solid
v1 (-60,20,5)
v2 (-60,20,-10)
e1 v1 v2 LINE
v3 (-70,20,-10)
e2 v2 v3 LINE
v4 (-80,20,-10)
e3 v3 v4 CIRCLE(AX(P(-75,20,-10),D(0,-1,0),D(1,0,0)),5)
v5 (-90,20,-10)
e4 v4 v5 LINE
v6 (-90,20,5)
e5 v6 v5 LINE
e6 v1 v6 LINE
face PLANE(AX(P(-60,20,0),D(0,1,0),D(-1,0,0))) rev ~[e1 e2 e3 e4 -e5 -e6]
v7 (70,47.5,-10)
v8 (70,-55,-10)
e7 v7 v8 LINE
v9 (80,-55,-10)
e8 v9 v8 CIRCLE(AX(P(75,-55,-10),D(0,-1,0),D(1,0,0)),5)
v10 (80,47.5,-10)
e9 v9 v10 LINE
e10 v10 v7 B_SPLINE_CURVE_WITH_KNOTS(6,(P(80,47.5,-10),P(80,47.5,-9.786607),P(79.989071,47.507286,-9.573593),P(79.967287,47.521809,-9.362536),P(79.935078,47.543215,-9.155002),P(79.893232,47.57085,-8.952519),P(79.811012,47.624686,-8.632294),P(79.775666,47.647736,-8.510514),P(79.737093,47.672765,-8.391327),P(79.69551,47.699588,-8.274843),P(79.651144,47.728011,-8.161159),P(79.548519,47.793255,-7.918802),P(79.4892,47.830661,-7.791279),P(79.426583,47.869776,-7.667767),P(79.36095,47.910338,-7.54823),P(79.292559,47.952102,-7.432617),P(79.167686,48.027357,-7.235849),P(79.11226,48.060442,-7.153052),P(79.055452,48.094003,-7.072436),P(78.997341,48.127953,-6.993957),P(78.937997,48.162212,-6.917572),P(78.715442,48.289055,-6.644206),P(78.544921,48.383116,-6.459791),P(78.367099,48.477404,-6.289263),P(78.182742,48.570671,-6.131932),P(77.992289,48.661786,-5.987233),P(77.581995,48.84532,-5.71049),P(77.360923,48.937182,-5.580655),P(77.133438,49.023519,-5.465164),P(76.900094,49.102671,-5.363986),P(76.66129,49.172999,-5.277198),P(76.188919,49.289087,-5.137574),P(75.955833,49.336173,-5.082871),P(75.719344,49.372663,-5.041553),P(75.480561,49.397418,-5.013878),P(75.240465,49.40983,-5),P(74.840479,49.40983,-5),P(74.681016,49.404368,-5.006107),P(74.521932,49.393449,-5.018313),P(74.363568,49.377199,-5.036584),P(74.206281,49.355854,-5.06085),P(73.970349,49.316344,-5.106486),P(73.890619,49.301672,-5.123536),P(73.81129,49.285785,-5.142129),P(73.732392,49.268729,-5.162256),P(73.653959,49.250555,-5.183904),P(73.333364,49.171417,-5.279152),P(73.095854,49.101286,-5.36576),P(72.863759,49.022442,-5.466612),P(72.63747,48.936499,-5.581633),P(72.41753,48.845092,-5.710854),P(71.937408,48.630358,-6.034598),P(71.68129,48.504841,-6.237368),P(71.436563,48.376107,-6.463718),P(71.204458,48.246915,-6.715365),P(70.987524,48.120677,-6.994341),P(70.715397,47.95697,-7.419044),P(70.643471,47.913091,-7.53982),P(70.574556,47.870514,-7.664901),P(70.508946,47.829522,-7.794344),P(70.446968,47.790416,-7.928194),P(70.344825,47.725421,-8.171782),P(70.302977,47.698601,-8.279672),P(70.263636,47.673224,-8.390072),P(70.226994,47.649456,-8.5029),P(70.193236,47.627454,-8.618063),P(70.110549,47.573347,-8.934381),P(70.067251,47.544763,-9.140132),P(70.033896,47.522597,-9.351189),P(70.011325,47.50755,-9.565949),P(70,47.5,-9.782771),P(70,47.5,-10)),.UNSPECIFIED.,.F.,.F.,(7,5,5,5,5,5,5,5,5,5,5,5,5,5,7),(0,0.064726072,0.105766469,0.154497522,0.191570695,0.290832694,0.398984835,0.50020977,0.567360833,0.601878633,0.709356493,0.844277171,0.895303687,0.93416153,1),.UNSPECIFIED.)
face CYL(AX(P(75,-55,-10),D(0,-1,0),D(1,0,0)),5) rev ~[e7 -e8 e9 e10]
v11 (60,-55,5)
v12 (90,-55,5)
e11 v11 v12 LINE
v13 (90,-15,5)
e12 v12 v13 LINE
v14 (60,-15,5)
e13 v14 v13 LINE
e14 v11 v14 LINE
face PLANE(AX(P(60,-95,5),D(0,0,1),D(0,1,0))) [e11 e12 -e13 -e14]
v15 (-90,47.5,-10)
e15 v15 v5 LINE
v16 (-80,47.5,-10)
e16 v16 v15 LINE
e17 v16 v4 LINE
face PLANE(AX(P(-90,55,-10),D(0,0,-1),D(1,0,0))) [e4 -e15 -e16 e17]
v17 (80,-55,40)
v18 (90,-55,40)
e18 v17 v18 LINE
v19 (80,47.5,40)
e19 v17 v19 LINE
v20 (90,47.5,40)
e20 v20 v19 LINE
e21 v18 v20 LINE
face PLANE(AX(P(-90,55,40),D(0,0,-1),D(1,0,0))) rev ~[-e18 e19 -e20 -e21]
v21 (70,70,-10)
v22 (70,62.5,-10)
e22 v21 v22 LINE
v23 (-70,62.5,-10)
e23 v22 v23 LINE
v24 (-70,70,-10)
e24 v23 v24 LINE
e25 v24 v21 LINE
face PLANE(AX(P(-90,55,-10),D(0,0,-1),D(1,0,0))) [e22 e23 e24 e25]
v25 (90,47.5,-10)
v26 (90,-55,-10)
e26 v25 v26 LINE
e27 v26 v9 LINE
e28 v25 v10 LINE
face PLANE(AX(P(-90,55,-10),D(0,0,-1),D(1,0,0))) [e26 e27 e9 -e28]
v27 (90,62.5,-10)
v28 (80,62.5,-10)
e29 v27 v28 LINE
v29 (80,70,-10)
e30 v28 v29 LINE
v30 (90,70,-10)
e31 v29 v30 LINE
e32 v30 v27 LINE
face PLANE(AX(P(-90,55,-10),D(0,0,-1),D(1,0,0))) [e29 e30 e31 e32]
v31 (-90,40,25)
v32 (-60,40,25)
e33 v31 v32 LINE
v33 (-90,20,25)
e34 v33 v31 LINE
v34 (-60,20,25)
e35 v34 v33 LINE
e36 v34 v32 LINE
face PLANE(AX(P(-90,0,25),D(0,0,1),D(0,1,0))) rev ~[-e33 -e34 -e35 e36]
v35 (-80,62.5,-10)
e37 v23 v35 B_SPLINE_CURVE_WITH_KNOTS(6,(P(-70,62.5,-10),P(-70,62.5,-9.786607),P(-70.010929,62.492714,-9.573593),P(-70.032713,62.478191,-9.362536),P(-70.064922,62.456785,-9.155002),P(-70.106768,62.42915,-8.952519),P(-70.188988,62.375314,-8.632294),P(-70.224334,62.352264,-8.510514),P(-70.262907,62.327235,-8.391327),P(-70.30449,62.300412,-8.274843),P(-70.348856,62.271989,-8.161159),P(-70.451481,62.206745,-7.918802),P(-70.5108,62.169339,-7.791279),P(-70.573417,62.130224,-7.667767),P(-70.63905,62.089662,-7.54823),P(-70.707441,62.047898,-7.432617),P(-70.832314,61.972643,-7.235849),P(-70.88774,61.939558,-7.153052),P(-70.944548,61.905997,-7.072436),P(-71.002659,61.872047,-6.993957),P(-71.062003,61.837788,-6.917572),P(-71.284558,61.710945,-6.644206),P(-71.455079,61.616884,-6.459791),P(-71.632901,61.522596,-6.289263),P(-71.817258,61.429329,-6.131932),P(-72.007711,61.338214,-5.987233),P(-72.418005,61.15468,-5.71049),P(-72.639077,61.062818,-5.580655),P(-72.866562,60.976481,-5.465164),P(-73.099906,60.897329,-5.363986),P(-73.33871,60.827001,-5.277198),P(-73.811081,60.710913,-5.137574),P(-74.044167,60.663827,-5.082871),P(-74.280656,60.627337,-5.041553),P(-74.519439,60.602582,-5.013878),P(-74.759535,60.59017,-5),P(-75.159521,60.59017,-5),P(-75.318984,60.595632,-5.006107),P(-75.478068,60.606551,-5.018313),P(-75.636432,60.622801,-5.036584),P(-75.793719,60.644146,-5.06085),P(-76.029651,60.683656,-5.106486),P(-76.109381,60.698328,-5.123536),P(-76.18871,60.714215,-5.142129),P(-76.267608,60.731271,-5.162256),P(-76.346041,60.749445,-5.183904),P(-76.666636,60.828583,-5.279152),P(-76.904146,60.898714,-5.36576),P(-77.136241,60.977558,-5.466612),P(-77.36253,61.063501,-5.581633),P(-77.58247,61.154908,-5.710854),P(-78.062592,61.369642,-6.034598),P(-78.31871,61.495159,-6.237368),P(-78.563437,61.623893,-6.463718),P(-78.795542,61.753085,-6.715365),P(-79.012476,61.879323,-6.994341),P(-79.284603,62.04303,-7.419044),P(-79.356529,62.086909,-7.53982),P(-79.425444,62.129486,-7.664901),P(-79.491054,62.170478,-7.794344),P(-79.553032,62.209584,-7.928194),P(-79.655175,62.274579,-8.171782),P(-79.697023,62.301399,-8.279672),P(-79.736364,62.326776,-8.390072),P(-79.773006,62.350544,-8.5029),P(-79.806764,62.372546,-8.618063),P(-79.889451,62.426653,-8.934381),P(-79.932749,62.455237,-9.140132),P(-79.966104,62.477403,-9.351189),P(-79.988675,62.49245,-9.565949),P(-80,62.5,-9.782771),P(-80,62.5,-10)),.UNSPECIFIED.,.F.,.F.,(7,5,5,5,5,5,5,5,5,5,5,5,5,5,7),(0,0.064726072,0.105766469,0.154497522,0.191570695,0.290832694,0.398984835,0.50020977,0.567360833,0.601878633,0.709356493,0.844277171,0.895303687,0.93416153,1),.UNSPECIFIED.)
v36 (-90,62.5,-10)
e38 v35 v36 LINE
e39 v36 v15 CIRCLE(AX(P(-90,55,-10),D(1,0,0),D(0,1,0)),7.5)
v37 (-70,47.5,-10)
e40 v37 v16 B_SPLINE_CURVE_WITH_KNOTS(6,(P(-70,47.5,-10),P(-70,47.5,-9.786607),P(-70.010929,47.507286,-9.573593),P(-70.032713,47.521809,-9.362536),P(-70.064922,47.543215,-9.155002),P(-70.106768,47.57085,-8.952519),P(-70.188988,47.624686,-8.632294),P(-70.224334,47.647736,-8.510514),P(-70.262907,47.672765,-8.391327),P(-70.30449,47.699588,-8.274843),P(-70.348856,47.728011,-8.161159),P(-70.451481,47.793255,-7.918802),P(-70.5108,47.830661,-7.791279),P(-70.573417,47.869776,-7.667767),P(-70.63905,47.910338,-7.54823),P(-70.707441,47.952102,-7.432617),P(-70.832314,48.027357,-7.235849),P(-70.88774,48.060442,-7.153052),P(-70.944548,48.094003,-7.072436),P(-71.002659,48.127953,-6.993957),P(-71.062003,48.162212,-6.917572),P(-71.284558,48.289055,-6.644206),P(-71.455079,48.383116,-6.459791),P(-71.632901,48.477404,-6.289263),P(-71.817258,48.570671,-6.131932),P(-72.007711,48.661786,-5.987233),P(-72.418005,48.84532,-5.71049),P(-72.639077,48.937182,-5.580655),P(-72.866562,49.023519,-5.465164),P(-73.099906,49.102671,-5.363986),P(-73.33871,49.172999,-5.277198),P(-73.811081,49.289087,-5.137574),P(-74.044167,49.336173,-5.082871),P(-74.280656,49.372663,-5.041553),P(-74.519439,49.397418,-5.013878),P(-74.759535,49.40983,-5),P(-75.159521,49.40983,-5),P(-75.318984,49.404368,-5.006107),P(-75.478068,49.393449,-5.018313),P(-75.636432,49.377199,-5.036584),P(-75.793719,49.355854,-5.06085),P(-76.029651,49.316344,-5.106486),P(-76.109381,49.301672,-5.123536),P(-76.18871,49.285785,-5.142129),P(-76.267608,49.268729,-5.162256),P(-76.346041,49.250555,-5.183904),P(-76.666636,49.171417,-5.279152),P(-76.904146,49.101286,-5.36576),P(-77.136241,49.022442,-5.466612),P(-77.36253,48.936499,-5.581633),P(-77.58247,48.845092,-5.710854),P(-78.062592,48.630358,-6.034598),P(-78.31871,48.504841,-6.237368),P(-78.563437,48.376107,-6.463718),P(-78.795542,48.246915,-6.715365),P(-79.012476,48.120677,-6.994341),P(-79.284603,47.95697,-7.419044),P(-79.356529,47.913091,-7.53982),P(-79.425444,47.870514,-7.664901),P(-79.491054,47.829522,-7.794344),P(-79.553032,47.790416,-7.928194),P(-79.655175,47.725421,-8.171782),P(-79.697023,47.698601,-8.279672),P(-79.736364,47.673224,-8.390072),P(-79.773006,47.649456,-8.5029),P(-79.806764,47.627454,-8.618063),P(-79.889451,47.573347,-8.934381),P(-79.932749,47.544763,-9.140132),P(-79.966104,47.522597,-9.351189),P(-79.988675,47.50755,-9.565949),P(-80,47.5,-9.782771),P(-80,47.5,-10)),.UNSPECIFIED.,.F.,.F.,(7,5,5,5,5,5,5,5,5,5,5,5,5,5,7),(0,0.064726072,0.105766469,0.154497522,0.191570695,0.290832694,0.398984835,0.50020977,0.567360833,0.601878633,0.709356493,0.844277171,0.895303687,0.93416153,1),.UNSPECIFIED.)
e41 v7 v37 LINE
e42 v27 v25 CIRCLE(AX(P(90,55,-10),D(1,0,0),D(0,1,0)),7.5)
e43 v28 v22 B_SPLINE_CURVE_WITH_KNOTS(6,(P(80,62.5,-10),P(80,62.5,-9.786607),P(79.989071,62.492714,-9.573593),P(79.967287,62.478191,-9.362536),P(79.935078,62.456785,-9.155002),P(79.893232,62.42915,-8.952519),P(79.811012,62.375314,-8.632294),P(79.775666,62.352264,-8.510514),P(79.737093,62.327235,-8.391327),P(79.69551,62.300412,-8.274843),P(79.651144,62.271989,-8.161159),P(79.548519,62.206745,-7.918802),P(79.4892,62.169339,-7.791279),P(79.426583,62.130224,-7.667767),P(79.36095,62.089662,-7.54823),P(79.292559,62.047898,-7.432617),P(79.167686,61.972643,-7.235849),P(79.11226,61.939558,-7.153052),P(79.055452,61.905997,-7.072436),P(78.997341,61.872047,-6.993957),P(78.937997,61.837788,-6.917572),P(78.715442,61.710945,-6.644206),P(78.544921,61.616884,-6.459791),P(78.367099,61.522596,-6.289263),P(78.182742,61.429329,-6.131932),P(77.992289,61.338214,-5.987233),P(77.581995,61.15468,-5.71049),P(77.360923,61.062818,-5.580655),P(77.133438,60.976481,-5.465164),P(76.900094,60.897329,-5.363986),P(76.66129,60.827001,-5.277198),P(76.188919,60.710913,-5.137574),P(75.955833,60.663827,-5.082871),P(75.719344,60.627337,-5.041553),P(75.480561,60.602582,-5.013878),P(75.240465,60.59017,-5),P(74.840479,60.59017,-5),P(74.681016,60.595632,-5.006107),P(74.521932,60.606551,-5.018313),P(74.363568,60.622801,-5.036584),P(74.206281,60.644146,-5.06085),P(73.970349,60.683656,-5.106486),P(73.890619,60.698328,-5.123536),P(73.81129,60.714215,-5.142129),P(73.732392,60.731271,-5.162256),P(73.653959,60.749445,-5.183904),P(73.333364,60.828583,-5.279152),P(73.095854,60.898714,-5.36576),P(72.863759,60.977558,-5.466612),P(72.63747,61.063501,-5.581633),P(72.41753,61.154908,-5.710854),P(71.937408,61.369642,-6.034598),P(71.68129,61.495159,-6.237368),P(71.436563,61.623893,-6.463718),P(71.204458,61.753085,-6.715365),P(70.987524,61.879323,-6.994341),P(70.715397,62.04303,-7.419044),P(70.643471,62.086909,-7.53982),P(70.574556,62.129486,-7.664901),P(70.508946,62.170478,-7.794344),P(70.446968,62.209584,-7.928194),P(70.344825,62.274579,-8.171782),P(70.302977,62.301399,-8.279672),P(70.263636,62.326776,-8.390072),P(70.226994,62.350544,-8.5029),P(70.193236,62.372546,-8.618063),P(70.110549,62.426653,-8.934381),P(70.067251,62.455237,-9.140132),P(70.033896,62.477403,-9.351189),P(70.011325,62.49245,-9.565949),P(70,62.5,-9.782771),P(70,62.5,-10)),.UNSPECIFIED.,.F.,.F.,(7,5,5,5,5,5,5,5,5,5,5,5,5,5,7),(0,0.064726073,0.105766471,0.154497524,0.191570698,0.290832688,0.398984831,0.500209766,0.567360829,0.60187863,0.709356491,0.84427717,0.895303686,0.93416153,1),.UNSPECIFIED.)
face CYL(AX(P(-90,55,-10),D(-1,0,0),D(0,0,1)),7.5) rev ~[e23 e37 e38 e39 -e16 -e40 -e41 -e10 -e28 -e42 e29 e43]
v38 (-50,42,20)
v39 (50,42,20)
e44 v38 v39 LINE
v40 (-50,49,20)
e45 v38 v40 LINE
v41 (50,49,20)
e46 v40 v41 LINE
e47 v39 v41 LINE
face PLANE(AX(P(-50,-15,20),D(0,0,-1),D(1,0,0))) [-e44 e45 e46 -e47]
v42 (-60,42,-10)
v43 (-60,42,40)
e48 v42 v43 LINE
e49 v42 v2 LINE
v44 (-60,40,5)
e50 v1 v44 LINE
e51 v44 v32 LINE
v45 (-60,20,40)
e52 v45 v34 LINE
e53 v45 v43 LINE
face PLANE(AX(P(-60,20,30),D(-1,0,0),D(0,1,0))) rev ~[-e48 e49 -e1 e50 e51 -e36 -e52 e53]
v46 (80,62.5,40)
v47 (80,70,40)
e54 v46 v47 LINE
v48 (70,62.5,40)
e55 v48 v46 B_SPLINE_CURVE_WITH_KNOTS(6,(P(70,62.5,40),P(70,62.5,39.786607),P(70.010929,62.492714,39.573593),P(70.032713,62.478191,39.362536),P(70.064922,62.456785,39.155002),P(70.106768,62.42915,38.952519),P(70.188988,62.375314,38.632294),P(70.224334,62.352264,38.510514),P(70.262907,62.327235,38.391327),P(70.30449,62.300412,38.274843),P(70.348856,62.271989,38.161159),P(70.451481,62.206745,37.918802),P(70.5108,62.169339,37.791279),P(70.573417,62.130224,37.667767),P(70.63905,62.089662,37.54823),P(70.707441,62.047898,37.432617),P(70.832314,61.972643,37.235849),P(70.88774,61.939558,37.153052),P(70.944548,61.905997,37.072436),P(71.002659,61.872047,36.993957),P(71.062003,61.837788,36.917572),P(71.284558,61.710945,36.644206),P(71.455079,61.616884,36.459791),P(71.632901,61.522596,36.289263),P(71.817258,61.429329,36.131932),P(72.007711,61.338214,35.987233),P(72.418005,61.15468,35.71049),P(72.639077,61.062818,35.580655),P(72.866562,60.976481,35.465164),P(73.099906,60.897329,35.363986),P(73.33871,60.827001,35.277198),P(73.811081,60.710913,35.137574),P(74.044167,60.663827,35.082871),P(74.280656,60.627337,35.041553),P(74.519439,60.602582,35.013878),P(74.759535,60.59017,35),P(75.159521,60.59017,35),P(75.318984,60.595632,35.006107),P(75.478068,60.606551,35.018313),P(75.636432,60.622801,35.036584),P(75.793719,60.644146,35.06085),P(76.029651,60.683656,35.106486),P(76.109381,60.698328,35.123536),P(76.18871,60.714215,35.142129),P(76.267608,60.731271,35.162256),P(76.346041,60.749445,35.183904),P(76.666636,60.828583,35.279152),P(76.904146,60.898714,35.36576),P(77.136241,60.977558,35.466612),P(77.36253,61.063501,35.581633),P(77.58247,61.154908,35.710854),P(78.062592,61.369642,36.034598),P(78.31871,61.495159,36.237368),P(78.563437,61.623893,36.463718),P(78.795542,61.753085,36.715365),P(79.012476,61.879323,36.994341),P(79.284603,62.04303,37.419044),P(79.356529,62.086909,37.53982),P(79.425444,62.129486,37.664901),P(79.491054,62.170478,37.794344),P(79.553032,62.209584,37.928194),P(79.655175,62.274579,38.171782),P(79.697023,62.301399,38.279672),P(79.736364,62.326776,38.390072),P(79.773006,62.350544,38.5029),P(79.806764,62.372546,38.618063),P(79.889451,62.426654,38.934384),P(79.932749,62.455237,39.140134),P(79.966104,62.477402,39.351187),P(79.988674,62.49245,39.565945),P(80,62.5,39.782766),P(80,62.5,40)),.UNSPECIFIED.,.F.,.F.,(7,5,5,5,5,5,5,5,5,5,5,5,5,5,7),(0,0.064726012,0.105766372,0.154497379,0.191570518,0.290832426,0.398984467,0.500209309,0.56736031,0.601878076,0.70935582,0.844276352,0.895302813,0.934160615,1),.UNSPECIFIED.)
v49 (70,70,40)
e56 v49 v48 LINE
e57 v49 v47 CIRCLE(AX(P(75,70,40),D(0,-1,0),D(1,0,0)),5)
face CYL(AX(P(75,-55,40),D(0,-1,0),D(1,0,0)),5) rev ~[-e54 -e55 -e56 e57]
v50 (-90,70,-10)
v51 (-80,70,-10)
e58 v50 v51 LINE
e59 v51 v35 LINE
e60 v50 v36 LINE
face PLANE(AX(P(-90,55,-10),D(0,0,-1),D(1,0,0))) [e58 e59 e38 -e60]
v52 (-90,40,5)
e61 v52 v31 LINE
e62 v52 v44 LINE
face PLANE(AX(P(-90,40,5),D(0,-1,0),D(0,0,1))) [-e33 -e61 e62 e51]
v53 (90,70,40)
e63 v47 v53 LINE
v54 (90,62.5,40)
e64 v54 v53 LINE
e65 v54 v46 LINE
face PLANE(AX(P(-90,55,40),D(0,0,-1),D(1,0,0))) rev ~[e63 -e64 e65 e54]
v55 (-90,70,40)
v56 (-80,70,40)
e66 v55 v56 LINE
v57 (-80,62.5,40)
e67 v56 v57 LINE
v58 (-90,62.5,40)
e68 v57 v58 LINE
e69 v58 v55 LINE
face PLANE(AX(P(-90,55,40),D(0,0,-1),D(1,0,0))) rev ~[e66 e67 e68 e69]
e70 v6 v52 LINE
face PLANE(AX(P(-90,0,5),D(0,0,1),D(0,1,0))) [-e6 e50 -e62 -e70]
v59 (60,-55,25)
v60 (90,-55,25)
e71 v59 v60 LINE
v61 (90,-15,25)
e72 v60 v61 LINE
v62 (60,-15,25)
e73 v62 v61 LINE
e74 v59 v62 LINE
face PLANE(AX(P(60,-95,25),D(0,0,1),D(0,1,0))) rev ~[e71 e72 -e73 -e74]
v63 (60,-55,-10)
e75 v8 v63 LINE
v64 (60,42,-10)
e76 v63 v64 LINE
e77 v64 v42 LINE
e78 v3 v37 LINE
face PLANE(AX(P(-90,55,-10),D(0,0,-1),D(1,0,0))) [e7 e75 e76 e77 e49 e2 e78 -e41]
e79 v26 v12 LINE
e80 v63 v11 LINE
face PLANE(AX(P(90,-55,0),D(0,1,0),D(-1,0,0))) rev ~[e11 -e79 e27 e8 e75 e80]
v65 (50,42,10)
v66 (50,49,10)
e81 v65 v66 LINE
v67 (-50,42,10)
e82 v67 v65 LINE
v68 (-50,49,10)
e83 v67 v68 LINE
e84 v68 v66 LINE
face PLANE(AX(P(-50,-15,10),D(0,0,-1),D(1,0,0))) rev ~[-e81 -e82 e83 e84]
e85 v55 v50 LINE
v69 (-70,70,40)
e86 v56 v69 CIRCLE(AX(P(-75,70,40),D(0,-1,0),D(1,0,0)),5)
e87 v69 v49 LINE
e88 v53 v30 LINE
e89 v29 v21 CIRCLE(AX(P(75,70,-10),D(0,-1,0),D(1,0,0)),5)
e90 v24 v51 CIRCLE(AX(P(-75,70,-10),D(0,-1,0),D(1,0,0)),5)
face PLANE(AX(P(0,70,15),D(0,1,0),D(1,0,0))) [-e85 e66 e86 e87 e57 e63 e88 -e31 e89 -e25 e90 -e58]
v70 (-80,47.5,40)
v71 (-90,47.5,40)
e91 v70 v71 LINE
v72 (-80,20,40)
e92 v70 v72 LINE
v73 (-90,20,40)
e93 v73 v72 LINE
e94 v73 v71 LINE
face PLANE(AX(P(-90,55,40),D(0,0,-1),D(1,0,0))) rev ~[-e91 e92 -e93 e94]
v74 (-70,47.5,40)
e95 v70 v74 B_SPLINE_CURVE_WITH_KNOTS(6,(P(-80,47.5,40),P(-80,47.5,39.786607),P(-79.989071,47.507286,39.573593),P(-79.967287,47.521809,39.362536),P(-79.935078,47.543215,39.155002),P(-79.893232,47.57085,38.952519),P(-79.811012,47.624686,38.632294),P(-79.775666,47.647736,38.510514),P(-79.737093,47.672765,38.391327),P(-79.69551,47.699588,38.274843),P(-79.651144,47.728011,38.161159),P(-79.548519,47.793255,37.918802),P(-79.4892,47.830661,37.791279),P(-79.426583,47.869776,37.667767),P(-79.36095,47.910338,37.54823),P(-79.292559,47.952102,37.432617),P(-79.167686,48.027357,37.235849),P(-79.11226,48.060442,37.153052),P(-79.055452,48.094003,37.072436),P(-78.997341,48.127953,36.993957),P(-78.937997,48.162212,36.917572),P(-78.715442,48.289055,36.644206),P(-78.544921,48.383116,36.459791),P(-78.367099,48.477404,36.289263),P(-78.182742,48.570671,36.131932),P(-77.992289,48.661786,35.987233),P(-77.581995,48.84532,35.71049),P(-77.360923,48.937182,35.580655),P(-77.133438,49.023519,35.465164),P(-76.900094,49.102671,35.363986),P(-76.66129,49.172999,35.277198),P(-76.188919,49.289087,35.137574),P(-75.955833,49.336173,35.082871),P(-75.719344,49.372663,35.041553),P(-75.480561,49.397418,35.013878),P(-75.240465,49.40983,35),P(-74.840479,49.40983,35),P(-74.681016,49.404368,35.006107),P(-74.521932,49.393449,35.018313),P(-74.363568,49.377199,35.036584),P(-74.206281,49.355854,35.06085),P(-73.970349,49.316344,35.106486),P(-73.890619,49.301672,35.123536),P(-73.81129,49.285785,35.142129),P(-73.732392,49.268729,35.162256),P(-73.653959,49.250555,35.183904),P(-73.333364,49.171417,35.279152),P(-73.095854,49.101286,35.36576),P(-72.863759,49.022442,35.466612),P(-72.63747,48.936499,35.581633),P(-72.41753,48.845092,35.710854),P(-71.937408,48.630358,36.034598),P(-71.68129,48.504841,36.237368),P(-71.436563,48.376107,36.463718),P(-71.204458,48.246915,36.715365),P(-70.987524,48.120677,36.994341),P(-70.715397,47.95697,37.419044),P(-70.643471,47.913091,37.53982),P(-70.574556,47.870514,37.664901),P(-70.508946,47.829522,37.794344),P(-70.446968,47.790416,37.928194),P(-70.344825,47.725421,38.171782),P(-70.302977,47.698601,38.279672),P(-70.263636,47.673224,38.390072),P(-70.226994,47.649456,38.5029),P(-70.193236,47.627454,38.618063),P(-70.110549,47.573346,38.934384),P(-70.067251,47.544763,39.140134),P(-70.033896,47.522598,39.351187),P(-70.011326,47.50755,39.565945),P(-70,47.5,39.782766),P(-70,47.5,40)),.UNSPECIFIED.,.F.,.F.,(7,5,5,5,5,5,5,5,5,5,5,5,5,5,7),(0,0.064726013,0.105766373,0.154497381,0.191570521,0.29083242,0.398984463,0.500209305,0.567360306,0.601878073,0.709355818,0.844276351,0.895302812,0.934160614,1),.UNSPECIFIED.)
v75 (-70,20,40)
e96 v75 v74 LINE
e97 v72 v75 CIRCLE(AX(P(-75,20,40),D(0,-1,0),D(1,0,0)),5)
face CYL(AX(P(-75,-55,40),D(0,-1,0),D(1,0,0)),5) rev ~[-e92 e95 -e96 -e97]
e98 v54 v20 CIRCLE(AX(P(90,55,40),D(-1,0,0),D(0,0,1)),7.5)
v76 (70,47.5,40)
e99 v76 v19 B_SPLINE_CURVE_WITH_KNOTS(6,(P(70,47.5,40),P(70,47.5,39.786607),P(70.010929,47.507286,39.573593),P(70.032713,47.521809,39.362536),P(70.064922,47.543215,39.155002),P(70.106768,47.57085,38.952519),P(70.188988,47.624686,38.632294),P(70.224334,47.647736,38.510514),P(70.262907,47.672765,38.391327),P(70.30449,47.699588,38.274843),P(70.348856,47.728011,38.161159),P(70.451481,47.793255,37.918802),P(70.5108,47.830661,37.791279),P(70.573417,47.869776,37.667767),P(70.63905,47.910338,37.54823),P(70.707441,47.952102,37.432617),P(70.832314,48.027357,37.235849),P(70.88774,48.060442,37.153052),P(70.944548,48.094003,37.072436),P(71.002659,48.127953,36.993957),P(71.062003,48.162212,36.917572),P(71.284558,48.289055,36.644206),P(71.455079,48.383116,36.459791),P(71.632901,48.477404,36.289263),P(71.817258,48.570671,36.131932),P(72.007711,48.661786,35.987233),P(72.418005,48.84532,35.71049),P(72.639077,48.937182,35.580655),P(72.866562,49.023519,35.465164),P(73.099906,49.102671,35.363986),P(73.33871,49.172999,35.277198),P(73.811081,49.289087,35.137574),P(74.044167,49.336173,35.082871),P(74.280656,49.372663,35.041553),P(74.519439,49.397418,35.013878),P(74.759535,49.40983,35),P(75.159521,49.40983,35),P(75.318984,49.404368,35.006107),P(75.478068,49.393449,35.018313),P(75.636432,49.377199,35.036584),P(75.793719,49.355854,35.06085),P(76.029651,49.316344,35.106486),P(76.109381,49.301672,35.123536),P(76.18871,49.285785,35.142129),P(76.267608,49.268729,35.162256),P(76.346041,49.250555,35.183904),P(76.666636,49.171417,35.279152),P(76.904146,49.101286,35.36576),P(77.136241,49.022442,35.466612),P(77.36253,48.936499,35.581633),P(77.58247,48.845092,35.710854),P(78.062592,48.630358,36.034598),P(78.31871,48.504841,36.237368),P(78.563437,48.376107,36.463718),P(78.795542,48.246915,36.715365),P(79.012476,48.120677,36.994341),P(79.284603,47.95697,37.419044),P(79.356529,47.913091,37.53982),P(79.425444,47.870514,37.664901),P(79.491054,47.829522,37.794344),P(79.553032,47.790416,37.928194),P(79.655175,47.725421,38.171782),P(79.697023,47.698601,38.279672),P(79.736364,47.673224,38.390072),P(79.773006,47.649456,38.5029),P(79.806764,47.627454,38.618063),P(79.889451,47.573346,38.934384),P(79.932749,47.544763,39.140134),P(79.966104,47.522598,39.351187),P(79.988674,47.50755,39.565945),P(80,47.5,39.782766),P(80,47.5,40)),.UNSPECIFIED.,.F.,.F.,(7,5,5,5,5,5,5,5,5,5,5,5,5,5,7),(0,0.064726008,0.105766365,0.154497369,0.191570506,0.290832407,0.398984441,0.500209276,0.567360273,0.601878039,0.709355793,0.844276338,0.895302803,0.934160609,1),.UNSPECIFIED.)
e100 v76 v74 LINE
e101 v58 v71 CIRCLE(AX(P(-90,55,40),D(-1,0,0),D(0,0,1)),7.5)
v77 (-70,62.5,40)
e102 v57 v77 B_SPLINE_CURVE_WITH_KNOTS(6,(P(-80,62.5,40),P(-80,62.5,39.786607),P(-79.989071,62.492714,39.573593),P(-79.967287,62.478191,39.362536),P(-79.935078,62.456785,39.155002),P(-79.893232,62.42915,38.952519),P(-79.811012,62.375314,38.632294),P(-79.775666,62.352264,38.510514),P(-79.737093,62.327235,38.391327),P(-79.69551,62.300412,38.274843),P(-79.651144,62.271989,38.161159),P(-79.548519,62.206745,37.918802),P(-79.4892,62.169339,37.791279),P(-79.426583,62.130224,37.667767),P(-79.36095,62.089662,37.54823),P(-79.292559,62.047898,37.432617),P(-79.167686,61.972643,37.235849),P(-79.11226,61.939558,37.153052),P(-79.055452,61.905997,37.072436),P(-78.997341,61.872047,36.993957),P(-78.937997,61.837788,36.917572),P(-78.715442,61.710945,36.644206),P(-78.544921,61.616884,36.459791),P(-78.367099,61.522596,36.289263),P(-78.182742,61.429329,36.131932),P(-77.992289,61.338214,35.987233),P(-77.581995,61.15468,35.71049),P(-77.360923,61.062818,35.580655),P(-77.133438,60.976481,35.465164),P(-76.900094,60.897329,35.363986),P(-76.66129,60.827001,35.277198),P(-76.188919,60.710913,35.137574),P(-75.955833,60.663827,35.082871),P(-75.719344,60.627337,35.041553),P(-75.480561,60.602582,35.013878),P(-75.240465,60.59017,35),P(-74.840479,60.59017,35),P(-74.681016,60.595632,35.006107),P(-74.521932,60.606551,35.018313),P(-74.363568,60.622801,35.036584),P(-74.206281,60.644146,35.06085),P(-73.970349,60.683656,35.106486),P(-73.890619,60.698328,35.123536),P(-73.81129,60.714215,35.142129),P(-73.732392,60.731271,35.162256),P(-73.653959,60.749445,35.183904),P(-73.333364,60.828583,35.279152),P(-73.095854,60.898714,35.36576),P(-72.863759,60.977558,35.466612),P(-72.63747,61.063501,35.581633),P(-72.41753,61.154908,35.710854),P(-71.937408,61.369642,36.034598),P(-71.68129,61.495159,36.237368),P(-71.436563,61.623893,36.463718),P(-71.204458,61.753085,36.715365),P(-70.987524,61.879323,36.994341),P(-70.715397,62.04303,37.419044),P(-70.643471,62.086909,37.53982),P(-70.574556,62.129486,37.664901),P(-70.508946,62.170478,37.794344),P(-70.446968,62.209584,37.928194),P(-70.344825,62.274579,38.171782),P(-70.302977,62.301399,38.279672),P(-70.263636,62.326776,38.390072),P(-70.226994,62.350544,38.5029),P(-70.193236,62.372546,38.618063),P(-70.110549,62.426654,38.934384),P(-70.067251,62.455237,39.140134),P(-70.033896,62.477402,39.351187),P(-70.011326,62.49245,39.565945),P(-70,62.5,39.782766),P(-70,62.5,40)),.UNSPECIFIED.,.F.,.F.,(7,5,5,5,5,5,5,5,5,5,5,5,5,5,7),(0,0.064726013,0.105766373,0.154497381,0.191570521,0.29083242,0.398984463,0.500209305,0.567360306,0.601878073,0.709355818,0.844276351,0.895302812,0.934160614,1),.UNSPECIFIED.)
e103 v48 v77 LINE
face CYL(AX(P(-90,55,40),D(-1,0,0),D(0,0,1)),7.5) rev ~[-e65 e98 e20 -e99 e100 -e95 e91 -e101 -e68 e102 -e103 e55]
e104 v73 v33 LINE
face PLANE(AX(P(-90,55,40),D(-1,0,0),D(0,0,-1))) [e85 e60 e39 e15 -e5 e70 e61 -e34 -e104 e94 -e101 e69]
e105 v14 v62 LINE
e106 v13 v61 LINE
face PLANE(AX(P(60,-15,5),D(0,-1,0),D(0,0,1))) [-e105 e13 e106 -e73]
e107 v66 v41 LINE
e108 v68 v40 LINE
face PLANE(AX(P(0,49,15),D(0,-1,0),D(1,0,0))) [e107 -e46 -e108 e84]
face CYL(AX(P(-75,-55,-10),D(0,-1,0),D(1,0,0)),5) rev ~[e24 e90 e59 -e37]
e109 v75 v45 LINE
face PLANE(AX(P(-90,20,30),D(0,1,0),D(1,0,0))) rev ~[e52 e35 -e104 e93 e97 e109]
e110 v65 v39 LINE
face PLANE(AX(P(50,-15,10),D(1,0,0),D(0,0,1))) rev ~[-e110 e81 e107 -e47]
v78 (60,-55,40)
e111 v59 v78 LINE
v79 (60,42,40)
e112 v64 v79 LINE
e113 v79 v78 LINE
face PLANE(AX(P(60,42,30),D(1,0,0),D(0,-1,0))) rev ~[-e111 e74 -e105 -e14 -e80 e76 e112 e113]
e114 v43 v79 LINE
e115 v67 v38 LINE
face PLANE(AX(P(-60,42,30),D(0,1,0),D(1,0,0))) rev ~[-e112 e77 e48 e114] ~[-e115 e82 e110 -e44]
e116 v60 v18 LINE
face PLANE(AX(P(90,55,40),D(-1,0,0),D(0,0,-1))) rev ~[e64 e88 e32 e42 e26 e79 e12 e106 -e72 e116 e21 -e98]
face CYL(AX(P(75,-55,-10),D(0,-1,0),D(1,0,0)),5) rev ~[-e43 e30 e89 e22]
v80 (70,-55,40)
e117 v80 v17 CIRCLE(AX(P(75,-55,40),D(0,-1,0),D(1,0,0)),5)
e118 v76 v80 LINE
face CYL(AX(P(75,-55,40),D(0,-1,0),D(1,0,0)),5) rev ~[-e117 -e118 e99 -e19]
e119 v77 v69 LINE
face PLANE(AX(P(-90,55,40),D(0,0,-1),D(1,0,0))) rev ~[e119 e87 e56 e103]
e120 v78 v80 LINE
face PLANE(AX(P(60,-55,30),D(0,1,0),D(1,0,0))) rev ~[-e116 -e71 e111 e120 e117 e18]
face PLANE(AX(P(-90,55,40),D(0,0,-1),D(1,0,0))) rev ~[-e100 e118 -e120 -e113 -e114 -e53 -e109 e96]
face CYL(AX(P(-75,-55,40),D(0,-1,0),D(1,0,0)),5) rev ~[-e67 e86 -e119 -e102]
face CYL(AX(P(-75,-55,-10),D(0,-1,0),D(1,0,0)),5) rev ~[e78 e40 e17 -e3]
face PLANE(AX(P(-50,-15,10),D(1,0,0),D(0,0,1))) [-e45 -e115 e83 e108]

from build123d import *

# Parameters (mm, degrees)
SKETCH_1_W          = 180
SKETCH_1_H          = 110
EXTRUDE_1_DEPTH     = 30
SKETCH_2_W          = 150
SKETCH_2_H          = 75
CUT_EXTRUDE_1_DEPTH = 30
SKETCH_3_W          = 20
SKETCH_3_H          = 40
CUT_EXTRUDE_2_DEPTH = 150
SKETCH_4_W          = 20
SKETCH_4_H          = 80
CUT_EXTRUDE_3_DEPTH = 30
SKETCH_5_W          = 120
SKETCH_5_H          = 22
CUT_EXTRUDE_4_DEPTH = 30
SKETCH_6_W          = 100
SKETCH_6_H          = 10
CUT_EXTRUDE_5_DEPTH = 64
EXTRUDE_2_DEPTH     = 10
EXTRUDE_3_DEPTH     = 10
SKETCH_9_W          = 180
SKETCH_9_H          = 50
EXTRUDE_4_DEPTH     = 15
SKETCH_10_R         = 5
CUT_EXTRUDE_6_DEPTH = 144
SKETCH_11_R         = 7.5
CUT_EXTRUDE_7_DEPTH = 191


with BuildPart() as part:
    # 草图1 → 凸台-拉伸1 (new body)
    with BuildSketch(Plane.XY):
        Rectangle(SKETCH_1_W, SKETCH_1_H)
    extrude(amount=EXTRUDE_1_DEPTH)

    # 草图2 → 切除-拉伸1 (cut)
    with BuildSketch(Plane.XY.offset(30)):
        with Locations((-15, -17.5)):
            Rectangle(SKETCH_2_W, SKETCH_2_H)
    extrude(amount=-CUT_EXTRUDE_1_DEPTH, mode=Mode.SUBTRACT)

    # 草图3 → 切除-拉伸2 (cut)
    with BuildSketch(Plane.ZY.offset(90)):
        with Locations((15, 20)):
            Rectangle(SKETCH_3_W, SKETCH_3_H)
    extrude(amount=-CUT_EXTRUDE_2_DEPTH, mode=Mode.SUBTRACT)

    # 草图4 → 切除-拉伸3 (cut)
    with BuildSketch(Plane.ZY.offset(-60)):
        with Locations((15, -55)):
            Rectangle(SKETCH_4_W, SKETCH_4_H)
    extrude(amount=-CUT_EXTRUDE_3_DEPTH, mode=Mode.SUBTRACT)

    # 草图5 → 切除-拉伸4 (cut)
    with BuildSketch(Plane.XY.offset(30)):
        with Locations((0, 31)):
            Rectangle(SKETCH_5_W, SKETCH_5_H)
    extrude(amount=-CUT_EXTRUDE_4_DEPTH, mode=Mode.SUBTRACT)

    # 草图6 → 切除-拉伸5 (cut)
    with BuildSketch(Plane.XZ.offset(15)):
        with Locations((0, 15)):
            Rectangle(SKETCH_6_W, SKETCH_6_H)
    extrude(amount=-CUT_EXTRUDE_5_DEPTH, mode=Mode.SUBTRACT)

    # 草图7 → 凸台-拉伸2 (add)
    with BuildSketch(Plane(origin=(0, 0, 0), x_dir=(-1, 0, 0), z_dir=(0, 0, -1))):
        Polygon((-60, 42), (60, 42), (60, 20), (90, 20), (90, 55), (-90, 55), (-90, -55), (-60, -55), align=None)
    extrude(amount=EXTRUDE_2_DEPTH)

    # 草图8 → 凸台-拉伸3 (add)
    with BuildSketch(Plane.XY.offset(30)):
        Polygon((-60, 20), (-60, 42), (60, 42), (60, -55), (90, -55), (90, 55), (-90, 55), (-90, 20), align=None)
    extrude(amount=EXTRUDE_3_DEPTH)

    # 草图9 → 凸台-拉伸4 (add)
    with BuildSketch(Plane(origin=(0, 55, 0), x_dir=(1, 0, 0), z_dir=(0, 1, 0))):
        with Locations((0, -15)):
            Rectangle(SKETCH_9_W, SKETCH_9_H)
    extrude(amount=EXTRUDE_4_DEPTH)

    # 草图10 → 切除-拉伸6 (cut)
    with BuildSketch(Plane.XZ.offset(55)):
        with Locations((75, 40)):
            Circle(SKETCH_10_R)
        with Locations((75, -10)):
            Circle(SKETCH_10_R)
        with Locations((-75, 40)):
            Circle(SKETCH_10_R)
        with Locations((-75, -10)):
            Circle(SKETCH_10_R)
    extrude(amount=-CUT_EXTRUDE_6_DEPTH, mode=Mode.SUBTRACT)

    # 草图11 → 切除-拉伸7 (cut)
    with BuildSketch(Plane.ZY.offset(90)):
        with Locations((40, 55)):
            Circle(SKETCH_11_R)
        with Locations((-10, 55)):
            Circle(SKETCH_11_R)
    extrude(amount=-CUT_EXTRUDE_7_DEPTH, mode=Mode.SUBTRACT)


solid = part.part
